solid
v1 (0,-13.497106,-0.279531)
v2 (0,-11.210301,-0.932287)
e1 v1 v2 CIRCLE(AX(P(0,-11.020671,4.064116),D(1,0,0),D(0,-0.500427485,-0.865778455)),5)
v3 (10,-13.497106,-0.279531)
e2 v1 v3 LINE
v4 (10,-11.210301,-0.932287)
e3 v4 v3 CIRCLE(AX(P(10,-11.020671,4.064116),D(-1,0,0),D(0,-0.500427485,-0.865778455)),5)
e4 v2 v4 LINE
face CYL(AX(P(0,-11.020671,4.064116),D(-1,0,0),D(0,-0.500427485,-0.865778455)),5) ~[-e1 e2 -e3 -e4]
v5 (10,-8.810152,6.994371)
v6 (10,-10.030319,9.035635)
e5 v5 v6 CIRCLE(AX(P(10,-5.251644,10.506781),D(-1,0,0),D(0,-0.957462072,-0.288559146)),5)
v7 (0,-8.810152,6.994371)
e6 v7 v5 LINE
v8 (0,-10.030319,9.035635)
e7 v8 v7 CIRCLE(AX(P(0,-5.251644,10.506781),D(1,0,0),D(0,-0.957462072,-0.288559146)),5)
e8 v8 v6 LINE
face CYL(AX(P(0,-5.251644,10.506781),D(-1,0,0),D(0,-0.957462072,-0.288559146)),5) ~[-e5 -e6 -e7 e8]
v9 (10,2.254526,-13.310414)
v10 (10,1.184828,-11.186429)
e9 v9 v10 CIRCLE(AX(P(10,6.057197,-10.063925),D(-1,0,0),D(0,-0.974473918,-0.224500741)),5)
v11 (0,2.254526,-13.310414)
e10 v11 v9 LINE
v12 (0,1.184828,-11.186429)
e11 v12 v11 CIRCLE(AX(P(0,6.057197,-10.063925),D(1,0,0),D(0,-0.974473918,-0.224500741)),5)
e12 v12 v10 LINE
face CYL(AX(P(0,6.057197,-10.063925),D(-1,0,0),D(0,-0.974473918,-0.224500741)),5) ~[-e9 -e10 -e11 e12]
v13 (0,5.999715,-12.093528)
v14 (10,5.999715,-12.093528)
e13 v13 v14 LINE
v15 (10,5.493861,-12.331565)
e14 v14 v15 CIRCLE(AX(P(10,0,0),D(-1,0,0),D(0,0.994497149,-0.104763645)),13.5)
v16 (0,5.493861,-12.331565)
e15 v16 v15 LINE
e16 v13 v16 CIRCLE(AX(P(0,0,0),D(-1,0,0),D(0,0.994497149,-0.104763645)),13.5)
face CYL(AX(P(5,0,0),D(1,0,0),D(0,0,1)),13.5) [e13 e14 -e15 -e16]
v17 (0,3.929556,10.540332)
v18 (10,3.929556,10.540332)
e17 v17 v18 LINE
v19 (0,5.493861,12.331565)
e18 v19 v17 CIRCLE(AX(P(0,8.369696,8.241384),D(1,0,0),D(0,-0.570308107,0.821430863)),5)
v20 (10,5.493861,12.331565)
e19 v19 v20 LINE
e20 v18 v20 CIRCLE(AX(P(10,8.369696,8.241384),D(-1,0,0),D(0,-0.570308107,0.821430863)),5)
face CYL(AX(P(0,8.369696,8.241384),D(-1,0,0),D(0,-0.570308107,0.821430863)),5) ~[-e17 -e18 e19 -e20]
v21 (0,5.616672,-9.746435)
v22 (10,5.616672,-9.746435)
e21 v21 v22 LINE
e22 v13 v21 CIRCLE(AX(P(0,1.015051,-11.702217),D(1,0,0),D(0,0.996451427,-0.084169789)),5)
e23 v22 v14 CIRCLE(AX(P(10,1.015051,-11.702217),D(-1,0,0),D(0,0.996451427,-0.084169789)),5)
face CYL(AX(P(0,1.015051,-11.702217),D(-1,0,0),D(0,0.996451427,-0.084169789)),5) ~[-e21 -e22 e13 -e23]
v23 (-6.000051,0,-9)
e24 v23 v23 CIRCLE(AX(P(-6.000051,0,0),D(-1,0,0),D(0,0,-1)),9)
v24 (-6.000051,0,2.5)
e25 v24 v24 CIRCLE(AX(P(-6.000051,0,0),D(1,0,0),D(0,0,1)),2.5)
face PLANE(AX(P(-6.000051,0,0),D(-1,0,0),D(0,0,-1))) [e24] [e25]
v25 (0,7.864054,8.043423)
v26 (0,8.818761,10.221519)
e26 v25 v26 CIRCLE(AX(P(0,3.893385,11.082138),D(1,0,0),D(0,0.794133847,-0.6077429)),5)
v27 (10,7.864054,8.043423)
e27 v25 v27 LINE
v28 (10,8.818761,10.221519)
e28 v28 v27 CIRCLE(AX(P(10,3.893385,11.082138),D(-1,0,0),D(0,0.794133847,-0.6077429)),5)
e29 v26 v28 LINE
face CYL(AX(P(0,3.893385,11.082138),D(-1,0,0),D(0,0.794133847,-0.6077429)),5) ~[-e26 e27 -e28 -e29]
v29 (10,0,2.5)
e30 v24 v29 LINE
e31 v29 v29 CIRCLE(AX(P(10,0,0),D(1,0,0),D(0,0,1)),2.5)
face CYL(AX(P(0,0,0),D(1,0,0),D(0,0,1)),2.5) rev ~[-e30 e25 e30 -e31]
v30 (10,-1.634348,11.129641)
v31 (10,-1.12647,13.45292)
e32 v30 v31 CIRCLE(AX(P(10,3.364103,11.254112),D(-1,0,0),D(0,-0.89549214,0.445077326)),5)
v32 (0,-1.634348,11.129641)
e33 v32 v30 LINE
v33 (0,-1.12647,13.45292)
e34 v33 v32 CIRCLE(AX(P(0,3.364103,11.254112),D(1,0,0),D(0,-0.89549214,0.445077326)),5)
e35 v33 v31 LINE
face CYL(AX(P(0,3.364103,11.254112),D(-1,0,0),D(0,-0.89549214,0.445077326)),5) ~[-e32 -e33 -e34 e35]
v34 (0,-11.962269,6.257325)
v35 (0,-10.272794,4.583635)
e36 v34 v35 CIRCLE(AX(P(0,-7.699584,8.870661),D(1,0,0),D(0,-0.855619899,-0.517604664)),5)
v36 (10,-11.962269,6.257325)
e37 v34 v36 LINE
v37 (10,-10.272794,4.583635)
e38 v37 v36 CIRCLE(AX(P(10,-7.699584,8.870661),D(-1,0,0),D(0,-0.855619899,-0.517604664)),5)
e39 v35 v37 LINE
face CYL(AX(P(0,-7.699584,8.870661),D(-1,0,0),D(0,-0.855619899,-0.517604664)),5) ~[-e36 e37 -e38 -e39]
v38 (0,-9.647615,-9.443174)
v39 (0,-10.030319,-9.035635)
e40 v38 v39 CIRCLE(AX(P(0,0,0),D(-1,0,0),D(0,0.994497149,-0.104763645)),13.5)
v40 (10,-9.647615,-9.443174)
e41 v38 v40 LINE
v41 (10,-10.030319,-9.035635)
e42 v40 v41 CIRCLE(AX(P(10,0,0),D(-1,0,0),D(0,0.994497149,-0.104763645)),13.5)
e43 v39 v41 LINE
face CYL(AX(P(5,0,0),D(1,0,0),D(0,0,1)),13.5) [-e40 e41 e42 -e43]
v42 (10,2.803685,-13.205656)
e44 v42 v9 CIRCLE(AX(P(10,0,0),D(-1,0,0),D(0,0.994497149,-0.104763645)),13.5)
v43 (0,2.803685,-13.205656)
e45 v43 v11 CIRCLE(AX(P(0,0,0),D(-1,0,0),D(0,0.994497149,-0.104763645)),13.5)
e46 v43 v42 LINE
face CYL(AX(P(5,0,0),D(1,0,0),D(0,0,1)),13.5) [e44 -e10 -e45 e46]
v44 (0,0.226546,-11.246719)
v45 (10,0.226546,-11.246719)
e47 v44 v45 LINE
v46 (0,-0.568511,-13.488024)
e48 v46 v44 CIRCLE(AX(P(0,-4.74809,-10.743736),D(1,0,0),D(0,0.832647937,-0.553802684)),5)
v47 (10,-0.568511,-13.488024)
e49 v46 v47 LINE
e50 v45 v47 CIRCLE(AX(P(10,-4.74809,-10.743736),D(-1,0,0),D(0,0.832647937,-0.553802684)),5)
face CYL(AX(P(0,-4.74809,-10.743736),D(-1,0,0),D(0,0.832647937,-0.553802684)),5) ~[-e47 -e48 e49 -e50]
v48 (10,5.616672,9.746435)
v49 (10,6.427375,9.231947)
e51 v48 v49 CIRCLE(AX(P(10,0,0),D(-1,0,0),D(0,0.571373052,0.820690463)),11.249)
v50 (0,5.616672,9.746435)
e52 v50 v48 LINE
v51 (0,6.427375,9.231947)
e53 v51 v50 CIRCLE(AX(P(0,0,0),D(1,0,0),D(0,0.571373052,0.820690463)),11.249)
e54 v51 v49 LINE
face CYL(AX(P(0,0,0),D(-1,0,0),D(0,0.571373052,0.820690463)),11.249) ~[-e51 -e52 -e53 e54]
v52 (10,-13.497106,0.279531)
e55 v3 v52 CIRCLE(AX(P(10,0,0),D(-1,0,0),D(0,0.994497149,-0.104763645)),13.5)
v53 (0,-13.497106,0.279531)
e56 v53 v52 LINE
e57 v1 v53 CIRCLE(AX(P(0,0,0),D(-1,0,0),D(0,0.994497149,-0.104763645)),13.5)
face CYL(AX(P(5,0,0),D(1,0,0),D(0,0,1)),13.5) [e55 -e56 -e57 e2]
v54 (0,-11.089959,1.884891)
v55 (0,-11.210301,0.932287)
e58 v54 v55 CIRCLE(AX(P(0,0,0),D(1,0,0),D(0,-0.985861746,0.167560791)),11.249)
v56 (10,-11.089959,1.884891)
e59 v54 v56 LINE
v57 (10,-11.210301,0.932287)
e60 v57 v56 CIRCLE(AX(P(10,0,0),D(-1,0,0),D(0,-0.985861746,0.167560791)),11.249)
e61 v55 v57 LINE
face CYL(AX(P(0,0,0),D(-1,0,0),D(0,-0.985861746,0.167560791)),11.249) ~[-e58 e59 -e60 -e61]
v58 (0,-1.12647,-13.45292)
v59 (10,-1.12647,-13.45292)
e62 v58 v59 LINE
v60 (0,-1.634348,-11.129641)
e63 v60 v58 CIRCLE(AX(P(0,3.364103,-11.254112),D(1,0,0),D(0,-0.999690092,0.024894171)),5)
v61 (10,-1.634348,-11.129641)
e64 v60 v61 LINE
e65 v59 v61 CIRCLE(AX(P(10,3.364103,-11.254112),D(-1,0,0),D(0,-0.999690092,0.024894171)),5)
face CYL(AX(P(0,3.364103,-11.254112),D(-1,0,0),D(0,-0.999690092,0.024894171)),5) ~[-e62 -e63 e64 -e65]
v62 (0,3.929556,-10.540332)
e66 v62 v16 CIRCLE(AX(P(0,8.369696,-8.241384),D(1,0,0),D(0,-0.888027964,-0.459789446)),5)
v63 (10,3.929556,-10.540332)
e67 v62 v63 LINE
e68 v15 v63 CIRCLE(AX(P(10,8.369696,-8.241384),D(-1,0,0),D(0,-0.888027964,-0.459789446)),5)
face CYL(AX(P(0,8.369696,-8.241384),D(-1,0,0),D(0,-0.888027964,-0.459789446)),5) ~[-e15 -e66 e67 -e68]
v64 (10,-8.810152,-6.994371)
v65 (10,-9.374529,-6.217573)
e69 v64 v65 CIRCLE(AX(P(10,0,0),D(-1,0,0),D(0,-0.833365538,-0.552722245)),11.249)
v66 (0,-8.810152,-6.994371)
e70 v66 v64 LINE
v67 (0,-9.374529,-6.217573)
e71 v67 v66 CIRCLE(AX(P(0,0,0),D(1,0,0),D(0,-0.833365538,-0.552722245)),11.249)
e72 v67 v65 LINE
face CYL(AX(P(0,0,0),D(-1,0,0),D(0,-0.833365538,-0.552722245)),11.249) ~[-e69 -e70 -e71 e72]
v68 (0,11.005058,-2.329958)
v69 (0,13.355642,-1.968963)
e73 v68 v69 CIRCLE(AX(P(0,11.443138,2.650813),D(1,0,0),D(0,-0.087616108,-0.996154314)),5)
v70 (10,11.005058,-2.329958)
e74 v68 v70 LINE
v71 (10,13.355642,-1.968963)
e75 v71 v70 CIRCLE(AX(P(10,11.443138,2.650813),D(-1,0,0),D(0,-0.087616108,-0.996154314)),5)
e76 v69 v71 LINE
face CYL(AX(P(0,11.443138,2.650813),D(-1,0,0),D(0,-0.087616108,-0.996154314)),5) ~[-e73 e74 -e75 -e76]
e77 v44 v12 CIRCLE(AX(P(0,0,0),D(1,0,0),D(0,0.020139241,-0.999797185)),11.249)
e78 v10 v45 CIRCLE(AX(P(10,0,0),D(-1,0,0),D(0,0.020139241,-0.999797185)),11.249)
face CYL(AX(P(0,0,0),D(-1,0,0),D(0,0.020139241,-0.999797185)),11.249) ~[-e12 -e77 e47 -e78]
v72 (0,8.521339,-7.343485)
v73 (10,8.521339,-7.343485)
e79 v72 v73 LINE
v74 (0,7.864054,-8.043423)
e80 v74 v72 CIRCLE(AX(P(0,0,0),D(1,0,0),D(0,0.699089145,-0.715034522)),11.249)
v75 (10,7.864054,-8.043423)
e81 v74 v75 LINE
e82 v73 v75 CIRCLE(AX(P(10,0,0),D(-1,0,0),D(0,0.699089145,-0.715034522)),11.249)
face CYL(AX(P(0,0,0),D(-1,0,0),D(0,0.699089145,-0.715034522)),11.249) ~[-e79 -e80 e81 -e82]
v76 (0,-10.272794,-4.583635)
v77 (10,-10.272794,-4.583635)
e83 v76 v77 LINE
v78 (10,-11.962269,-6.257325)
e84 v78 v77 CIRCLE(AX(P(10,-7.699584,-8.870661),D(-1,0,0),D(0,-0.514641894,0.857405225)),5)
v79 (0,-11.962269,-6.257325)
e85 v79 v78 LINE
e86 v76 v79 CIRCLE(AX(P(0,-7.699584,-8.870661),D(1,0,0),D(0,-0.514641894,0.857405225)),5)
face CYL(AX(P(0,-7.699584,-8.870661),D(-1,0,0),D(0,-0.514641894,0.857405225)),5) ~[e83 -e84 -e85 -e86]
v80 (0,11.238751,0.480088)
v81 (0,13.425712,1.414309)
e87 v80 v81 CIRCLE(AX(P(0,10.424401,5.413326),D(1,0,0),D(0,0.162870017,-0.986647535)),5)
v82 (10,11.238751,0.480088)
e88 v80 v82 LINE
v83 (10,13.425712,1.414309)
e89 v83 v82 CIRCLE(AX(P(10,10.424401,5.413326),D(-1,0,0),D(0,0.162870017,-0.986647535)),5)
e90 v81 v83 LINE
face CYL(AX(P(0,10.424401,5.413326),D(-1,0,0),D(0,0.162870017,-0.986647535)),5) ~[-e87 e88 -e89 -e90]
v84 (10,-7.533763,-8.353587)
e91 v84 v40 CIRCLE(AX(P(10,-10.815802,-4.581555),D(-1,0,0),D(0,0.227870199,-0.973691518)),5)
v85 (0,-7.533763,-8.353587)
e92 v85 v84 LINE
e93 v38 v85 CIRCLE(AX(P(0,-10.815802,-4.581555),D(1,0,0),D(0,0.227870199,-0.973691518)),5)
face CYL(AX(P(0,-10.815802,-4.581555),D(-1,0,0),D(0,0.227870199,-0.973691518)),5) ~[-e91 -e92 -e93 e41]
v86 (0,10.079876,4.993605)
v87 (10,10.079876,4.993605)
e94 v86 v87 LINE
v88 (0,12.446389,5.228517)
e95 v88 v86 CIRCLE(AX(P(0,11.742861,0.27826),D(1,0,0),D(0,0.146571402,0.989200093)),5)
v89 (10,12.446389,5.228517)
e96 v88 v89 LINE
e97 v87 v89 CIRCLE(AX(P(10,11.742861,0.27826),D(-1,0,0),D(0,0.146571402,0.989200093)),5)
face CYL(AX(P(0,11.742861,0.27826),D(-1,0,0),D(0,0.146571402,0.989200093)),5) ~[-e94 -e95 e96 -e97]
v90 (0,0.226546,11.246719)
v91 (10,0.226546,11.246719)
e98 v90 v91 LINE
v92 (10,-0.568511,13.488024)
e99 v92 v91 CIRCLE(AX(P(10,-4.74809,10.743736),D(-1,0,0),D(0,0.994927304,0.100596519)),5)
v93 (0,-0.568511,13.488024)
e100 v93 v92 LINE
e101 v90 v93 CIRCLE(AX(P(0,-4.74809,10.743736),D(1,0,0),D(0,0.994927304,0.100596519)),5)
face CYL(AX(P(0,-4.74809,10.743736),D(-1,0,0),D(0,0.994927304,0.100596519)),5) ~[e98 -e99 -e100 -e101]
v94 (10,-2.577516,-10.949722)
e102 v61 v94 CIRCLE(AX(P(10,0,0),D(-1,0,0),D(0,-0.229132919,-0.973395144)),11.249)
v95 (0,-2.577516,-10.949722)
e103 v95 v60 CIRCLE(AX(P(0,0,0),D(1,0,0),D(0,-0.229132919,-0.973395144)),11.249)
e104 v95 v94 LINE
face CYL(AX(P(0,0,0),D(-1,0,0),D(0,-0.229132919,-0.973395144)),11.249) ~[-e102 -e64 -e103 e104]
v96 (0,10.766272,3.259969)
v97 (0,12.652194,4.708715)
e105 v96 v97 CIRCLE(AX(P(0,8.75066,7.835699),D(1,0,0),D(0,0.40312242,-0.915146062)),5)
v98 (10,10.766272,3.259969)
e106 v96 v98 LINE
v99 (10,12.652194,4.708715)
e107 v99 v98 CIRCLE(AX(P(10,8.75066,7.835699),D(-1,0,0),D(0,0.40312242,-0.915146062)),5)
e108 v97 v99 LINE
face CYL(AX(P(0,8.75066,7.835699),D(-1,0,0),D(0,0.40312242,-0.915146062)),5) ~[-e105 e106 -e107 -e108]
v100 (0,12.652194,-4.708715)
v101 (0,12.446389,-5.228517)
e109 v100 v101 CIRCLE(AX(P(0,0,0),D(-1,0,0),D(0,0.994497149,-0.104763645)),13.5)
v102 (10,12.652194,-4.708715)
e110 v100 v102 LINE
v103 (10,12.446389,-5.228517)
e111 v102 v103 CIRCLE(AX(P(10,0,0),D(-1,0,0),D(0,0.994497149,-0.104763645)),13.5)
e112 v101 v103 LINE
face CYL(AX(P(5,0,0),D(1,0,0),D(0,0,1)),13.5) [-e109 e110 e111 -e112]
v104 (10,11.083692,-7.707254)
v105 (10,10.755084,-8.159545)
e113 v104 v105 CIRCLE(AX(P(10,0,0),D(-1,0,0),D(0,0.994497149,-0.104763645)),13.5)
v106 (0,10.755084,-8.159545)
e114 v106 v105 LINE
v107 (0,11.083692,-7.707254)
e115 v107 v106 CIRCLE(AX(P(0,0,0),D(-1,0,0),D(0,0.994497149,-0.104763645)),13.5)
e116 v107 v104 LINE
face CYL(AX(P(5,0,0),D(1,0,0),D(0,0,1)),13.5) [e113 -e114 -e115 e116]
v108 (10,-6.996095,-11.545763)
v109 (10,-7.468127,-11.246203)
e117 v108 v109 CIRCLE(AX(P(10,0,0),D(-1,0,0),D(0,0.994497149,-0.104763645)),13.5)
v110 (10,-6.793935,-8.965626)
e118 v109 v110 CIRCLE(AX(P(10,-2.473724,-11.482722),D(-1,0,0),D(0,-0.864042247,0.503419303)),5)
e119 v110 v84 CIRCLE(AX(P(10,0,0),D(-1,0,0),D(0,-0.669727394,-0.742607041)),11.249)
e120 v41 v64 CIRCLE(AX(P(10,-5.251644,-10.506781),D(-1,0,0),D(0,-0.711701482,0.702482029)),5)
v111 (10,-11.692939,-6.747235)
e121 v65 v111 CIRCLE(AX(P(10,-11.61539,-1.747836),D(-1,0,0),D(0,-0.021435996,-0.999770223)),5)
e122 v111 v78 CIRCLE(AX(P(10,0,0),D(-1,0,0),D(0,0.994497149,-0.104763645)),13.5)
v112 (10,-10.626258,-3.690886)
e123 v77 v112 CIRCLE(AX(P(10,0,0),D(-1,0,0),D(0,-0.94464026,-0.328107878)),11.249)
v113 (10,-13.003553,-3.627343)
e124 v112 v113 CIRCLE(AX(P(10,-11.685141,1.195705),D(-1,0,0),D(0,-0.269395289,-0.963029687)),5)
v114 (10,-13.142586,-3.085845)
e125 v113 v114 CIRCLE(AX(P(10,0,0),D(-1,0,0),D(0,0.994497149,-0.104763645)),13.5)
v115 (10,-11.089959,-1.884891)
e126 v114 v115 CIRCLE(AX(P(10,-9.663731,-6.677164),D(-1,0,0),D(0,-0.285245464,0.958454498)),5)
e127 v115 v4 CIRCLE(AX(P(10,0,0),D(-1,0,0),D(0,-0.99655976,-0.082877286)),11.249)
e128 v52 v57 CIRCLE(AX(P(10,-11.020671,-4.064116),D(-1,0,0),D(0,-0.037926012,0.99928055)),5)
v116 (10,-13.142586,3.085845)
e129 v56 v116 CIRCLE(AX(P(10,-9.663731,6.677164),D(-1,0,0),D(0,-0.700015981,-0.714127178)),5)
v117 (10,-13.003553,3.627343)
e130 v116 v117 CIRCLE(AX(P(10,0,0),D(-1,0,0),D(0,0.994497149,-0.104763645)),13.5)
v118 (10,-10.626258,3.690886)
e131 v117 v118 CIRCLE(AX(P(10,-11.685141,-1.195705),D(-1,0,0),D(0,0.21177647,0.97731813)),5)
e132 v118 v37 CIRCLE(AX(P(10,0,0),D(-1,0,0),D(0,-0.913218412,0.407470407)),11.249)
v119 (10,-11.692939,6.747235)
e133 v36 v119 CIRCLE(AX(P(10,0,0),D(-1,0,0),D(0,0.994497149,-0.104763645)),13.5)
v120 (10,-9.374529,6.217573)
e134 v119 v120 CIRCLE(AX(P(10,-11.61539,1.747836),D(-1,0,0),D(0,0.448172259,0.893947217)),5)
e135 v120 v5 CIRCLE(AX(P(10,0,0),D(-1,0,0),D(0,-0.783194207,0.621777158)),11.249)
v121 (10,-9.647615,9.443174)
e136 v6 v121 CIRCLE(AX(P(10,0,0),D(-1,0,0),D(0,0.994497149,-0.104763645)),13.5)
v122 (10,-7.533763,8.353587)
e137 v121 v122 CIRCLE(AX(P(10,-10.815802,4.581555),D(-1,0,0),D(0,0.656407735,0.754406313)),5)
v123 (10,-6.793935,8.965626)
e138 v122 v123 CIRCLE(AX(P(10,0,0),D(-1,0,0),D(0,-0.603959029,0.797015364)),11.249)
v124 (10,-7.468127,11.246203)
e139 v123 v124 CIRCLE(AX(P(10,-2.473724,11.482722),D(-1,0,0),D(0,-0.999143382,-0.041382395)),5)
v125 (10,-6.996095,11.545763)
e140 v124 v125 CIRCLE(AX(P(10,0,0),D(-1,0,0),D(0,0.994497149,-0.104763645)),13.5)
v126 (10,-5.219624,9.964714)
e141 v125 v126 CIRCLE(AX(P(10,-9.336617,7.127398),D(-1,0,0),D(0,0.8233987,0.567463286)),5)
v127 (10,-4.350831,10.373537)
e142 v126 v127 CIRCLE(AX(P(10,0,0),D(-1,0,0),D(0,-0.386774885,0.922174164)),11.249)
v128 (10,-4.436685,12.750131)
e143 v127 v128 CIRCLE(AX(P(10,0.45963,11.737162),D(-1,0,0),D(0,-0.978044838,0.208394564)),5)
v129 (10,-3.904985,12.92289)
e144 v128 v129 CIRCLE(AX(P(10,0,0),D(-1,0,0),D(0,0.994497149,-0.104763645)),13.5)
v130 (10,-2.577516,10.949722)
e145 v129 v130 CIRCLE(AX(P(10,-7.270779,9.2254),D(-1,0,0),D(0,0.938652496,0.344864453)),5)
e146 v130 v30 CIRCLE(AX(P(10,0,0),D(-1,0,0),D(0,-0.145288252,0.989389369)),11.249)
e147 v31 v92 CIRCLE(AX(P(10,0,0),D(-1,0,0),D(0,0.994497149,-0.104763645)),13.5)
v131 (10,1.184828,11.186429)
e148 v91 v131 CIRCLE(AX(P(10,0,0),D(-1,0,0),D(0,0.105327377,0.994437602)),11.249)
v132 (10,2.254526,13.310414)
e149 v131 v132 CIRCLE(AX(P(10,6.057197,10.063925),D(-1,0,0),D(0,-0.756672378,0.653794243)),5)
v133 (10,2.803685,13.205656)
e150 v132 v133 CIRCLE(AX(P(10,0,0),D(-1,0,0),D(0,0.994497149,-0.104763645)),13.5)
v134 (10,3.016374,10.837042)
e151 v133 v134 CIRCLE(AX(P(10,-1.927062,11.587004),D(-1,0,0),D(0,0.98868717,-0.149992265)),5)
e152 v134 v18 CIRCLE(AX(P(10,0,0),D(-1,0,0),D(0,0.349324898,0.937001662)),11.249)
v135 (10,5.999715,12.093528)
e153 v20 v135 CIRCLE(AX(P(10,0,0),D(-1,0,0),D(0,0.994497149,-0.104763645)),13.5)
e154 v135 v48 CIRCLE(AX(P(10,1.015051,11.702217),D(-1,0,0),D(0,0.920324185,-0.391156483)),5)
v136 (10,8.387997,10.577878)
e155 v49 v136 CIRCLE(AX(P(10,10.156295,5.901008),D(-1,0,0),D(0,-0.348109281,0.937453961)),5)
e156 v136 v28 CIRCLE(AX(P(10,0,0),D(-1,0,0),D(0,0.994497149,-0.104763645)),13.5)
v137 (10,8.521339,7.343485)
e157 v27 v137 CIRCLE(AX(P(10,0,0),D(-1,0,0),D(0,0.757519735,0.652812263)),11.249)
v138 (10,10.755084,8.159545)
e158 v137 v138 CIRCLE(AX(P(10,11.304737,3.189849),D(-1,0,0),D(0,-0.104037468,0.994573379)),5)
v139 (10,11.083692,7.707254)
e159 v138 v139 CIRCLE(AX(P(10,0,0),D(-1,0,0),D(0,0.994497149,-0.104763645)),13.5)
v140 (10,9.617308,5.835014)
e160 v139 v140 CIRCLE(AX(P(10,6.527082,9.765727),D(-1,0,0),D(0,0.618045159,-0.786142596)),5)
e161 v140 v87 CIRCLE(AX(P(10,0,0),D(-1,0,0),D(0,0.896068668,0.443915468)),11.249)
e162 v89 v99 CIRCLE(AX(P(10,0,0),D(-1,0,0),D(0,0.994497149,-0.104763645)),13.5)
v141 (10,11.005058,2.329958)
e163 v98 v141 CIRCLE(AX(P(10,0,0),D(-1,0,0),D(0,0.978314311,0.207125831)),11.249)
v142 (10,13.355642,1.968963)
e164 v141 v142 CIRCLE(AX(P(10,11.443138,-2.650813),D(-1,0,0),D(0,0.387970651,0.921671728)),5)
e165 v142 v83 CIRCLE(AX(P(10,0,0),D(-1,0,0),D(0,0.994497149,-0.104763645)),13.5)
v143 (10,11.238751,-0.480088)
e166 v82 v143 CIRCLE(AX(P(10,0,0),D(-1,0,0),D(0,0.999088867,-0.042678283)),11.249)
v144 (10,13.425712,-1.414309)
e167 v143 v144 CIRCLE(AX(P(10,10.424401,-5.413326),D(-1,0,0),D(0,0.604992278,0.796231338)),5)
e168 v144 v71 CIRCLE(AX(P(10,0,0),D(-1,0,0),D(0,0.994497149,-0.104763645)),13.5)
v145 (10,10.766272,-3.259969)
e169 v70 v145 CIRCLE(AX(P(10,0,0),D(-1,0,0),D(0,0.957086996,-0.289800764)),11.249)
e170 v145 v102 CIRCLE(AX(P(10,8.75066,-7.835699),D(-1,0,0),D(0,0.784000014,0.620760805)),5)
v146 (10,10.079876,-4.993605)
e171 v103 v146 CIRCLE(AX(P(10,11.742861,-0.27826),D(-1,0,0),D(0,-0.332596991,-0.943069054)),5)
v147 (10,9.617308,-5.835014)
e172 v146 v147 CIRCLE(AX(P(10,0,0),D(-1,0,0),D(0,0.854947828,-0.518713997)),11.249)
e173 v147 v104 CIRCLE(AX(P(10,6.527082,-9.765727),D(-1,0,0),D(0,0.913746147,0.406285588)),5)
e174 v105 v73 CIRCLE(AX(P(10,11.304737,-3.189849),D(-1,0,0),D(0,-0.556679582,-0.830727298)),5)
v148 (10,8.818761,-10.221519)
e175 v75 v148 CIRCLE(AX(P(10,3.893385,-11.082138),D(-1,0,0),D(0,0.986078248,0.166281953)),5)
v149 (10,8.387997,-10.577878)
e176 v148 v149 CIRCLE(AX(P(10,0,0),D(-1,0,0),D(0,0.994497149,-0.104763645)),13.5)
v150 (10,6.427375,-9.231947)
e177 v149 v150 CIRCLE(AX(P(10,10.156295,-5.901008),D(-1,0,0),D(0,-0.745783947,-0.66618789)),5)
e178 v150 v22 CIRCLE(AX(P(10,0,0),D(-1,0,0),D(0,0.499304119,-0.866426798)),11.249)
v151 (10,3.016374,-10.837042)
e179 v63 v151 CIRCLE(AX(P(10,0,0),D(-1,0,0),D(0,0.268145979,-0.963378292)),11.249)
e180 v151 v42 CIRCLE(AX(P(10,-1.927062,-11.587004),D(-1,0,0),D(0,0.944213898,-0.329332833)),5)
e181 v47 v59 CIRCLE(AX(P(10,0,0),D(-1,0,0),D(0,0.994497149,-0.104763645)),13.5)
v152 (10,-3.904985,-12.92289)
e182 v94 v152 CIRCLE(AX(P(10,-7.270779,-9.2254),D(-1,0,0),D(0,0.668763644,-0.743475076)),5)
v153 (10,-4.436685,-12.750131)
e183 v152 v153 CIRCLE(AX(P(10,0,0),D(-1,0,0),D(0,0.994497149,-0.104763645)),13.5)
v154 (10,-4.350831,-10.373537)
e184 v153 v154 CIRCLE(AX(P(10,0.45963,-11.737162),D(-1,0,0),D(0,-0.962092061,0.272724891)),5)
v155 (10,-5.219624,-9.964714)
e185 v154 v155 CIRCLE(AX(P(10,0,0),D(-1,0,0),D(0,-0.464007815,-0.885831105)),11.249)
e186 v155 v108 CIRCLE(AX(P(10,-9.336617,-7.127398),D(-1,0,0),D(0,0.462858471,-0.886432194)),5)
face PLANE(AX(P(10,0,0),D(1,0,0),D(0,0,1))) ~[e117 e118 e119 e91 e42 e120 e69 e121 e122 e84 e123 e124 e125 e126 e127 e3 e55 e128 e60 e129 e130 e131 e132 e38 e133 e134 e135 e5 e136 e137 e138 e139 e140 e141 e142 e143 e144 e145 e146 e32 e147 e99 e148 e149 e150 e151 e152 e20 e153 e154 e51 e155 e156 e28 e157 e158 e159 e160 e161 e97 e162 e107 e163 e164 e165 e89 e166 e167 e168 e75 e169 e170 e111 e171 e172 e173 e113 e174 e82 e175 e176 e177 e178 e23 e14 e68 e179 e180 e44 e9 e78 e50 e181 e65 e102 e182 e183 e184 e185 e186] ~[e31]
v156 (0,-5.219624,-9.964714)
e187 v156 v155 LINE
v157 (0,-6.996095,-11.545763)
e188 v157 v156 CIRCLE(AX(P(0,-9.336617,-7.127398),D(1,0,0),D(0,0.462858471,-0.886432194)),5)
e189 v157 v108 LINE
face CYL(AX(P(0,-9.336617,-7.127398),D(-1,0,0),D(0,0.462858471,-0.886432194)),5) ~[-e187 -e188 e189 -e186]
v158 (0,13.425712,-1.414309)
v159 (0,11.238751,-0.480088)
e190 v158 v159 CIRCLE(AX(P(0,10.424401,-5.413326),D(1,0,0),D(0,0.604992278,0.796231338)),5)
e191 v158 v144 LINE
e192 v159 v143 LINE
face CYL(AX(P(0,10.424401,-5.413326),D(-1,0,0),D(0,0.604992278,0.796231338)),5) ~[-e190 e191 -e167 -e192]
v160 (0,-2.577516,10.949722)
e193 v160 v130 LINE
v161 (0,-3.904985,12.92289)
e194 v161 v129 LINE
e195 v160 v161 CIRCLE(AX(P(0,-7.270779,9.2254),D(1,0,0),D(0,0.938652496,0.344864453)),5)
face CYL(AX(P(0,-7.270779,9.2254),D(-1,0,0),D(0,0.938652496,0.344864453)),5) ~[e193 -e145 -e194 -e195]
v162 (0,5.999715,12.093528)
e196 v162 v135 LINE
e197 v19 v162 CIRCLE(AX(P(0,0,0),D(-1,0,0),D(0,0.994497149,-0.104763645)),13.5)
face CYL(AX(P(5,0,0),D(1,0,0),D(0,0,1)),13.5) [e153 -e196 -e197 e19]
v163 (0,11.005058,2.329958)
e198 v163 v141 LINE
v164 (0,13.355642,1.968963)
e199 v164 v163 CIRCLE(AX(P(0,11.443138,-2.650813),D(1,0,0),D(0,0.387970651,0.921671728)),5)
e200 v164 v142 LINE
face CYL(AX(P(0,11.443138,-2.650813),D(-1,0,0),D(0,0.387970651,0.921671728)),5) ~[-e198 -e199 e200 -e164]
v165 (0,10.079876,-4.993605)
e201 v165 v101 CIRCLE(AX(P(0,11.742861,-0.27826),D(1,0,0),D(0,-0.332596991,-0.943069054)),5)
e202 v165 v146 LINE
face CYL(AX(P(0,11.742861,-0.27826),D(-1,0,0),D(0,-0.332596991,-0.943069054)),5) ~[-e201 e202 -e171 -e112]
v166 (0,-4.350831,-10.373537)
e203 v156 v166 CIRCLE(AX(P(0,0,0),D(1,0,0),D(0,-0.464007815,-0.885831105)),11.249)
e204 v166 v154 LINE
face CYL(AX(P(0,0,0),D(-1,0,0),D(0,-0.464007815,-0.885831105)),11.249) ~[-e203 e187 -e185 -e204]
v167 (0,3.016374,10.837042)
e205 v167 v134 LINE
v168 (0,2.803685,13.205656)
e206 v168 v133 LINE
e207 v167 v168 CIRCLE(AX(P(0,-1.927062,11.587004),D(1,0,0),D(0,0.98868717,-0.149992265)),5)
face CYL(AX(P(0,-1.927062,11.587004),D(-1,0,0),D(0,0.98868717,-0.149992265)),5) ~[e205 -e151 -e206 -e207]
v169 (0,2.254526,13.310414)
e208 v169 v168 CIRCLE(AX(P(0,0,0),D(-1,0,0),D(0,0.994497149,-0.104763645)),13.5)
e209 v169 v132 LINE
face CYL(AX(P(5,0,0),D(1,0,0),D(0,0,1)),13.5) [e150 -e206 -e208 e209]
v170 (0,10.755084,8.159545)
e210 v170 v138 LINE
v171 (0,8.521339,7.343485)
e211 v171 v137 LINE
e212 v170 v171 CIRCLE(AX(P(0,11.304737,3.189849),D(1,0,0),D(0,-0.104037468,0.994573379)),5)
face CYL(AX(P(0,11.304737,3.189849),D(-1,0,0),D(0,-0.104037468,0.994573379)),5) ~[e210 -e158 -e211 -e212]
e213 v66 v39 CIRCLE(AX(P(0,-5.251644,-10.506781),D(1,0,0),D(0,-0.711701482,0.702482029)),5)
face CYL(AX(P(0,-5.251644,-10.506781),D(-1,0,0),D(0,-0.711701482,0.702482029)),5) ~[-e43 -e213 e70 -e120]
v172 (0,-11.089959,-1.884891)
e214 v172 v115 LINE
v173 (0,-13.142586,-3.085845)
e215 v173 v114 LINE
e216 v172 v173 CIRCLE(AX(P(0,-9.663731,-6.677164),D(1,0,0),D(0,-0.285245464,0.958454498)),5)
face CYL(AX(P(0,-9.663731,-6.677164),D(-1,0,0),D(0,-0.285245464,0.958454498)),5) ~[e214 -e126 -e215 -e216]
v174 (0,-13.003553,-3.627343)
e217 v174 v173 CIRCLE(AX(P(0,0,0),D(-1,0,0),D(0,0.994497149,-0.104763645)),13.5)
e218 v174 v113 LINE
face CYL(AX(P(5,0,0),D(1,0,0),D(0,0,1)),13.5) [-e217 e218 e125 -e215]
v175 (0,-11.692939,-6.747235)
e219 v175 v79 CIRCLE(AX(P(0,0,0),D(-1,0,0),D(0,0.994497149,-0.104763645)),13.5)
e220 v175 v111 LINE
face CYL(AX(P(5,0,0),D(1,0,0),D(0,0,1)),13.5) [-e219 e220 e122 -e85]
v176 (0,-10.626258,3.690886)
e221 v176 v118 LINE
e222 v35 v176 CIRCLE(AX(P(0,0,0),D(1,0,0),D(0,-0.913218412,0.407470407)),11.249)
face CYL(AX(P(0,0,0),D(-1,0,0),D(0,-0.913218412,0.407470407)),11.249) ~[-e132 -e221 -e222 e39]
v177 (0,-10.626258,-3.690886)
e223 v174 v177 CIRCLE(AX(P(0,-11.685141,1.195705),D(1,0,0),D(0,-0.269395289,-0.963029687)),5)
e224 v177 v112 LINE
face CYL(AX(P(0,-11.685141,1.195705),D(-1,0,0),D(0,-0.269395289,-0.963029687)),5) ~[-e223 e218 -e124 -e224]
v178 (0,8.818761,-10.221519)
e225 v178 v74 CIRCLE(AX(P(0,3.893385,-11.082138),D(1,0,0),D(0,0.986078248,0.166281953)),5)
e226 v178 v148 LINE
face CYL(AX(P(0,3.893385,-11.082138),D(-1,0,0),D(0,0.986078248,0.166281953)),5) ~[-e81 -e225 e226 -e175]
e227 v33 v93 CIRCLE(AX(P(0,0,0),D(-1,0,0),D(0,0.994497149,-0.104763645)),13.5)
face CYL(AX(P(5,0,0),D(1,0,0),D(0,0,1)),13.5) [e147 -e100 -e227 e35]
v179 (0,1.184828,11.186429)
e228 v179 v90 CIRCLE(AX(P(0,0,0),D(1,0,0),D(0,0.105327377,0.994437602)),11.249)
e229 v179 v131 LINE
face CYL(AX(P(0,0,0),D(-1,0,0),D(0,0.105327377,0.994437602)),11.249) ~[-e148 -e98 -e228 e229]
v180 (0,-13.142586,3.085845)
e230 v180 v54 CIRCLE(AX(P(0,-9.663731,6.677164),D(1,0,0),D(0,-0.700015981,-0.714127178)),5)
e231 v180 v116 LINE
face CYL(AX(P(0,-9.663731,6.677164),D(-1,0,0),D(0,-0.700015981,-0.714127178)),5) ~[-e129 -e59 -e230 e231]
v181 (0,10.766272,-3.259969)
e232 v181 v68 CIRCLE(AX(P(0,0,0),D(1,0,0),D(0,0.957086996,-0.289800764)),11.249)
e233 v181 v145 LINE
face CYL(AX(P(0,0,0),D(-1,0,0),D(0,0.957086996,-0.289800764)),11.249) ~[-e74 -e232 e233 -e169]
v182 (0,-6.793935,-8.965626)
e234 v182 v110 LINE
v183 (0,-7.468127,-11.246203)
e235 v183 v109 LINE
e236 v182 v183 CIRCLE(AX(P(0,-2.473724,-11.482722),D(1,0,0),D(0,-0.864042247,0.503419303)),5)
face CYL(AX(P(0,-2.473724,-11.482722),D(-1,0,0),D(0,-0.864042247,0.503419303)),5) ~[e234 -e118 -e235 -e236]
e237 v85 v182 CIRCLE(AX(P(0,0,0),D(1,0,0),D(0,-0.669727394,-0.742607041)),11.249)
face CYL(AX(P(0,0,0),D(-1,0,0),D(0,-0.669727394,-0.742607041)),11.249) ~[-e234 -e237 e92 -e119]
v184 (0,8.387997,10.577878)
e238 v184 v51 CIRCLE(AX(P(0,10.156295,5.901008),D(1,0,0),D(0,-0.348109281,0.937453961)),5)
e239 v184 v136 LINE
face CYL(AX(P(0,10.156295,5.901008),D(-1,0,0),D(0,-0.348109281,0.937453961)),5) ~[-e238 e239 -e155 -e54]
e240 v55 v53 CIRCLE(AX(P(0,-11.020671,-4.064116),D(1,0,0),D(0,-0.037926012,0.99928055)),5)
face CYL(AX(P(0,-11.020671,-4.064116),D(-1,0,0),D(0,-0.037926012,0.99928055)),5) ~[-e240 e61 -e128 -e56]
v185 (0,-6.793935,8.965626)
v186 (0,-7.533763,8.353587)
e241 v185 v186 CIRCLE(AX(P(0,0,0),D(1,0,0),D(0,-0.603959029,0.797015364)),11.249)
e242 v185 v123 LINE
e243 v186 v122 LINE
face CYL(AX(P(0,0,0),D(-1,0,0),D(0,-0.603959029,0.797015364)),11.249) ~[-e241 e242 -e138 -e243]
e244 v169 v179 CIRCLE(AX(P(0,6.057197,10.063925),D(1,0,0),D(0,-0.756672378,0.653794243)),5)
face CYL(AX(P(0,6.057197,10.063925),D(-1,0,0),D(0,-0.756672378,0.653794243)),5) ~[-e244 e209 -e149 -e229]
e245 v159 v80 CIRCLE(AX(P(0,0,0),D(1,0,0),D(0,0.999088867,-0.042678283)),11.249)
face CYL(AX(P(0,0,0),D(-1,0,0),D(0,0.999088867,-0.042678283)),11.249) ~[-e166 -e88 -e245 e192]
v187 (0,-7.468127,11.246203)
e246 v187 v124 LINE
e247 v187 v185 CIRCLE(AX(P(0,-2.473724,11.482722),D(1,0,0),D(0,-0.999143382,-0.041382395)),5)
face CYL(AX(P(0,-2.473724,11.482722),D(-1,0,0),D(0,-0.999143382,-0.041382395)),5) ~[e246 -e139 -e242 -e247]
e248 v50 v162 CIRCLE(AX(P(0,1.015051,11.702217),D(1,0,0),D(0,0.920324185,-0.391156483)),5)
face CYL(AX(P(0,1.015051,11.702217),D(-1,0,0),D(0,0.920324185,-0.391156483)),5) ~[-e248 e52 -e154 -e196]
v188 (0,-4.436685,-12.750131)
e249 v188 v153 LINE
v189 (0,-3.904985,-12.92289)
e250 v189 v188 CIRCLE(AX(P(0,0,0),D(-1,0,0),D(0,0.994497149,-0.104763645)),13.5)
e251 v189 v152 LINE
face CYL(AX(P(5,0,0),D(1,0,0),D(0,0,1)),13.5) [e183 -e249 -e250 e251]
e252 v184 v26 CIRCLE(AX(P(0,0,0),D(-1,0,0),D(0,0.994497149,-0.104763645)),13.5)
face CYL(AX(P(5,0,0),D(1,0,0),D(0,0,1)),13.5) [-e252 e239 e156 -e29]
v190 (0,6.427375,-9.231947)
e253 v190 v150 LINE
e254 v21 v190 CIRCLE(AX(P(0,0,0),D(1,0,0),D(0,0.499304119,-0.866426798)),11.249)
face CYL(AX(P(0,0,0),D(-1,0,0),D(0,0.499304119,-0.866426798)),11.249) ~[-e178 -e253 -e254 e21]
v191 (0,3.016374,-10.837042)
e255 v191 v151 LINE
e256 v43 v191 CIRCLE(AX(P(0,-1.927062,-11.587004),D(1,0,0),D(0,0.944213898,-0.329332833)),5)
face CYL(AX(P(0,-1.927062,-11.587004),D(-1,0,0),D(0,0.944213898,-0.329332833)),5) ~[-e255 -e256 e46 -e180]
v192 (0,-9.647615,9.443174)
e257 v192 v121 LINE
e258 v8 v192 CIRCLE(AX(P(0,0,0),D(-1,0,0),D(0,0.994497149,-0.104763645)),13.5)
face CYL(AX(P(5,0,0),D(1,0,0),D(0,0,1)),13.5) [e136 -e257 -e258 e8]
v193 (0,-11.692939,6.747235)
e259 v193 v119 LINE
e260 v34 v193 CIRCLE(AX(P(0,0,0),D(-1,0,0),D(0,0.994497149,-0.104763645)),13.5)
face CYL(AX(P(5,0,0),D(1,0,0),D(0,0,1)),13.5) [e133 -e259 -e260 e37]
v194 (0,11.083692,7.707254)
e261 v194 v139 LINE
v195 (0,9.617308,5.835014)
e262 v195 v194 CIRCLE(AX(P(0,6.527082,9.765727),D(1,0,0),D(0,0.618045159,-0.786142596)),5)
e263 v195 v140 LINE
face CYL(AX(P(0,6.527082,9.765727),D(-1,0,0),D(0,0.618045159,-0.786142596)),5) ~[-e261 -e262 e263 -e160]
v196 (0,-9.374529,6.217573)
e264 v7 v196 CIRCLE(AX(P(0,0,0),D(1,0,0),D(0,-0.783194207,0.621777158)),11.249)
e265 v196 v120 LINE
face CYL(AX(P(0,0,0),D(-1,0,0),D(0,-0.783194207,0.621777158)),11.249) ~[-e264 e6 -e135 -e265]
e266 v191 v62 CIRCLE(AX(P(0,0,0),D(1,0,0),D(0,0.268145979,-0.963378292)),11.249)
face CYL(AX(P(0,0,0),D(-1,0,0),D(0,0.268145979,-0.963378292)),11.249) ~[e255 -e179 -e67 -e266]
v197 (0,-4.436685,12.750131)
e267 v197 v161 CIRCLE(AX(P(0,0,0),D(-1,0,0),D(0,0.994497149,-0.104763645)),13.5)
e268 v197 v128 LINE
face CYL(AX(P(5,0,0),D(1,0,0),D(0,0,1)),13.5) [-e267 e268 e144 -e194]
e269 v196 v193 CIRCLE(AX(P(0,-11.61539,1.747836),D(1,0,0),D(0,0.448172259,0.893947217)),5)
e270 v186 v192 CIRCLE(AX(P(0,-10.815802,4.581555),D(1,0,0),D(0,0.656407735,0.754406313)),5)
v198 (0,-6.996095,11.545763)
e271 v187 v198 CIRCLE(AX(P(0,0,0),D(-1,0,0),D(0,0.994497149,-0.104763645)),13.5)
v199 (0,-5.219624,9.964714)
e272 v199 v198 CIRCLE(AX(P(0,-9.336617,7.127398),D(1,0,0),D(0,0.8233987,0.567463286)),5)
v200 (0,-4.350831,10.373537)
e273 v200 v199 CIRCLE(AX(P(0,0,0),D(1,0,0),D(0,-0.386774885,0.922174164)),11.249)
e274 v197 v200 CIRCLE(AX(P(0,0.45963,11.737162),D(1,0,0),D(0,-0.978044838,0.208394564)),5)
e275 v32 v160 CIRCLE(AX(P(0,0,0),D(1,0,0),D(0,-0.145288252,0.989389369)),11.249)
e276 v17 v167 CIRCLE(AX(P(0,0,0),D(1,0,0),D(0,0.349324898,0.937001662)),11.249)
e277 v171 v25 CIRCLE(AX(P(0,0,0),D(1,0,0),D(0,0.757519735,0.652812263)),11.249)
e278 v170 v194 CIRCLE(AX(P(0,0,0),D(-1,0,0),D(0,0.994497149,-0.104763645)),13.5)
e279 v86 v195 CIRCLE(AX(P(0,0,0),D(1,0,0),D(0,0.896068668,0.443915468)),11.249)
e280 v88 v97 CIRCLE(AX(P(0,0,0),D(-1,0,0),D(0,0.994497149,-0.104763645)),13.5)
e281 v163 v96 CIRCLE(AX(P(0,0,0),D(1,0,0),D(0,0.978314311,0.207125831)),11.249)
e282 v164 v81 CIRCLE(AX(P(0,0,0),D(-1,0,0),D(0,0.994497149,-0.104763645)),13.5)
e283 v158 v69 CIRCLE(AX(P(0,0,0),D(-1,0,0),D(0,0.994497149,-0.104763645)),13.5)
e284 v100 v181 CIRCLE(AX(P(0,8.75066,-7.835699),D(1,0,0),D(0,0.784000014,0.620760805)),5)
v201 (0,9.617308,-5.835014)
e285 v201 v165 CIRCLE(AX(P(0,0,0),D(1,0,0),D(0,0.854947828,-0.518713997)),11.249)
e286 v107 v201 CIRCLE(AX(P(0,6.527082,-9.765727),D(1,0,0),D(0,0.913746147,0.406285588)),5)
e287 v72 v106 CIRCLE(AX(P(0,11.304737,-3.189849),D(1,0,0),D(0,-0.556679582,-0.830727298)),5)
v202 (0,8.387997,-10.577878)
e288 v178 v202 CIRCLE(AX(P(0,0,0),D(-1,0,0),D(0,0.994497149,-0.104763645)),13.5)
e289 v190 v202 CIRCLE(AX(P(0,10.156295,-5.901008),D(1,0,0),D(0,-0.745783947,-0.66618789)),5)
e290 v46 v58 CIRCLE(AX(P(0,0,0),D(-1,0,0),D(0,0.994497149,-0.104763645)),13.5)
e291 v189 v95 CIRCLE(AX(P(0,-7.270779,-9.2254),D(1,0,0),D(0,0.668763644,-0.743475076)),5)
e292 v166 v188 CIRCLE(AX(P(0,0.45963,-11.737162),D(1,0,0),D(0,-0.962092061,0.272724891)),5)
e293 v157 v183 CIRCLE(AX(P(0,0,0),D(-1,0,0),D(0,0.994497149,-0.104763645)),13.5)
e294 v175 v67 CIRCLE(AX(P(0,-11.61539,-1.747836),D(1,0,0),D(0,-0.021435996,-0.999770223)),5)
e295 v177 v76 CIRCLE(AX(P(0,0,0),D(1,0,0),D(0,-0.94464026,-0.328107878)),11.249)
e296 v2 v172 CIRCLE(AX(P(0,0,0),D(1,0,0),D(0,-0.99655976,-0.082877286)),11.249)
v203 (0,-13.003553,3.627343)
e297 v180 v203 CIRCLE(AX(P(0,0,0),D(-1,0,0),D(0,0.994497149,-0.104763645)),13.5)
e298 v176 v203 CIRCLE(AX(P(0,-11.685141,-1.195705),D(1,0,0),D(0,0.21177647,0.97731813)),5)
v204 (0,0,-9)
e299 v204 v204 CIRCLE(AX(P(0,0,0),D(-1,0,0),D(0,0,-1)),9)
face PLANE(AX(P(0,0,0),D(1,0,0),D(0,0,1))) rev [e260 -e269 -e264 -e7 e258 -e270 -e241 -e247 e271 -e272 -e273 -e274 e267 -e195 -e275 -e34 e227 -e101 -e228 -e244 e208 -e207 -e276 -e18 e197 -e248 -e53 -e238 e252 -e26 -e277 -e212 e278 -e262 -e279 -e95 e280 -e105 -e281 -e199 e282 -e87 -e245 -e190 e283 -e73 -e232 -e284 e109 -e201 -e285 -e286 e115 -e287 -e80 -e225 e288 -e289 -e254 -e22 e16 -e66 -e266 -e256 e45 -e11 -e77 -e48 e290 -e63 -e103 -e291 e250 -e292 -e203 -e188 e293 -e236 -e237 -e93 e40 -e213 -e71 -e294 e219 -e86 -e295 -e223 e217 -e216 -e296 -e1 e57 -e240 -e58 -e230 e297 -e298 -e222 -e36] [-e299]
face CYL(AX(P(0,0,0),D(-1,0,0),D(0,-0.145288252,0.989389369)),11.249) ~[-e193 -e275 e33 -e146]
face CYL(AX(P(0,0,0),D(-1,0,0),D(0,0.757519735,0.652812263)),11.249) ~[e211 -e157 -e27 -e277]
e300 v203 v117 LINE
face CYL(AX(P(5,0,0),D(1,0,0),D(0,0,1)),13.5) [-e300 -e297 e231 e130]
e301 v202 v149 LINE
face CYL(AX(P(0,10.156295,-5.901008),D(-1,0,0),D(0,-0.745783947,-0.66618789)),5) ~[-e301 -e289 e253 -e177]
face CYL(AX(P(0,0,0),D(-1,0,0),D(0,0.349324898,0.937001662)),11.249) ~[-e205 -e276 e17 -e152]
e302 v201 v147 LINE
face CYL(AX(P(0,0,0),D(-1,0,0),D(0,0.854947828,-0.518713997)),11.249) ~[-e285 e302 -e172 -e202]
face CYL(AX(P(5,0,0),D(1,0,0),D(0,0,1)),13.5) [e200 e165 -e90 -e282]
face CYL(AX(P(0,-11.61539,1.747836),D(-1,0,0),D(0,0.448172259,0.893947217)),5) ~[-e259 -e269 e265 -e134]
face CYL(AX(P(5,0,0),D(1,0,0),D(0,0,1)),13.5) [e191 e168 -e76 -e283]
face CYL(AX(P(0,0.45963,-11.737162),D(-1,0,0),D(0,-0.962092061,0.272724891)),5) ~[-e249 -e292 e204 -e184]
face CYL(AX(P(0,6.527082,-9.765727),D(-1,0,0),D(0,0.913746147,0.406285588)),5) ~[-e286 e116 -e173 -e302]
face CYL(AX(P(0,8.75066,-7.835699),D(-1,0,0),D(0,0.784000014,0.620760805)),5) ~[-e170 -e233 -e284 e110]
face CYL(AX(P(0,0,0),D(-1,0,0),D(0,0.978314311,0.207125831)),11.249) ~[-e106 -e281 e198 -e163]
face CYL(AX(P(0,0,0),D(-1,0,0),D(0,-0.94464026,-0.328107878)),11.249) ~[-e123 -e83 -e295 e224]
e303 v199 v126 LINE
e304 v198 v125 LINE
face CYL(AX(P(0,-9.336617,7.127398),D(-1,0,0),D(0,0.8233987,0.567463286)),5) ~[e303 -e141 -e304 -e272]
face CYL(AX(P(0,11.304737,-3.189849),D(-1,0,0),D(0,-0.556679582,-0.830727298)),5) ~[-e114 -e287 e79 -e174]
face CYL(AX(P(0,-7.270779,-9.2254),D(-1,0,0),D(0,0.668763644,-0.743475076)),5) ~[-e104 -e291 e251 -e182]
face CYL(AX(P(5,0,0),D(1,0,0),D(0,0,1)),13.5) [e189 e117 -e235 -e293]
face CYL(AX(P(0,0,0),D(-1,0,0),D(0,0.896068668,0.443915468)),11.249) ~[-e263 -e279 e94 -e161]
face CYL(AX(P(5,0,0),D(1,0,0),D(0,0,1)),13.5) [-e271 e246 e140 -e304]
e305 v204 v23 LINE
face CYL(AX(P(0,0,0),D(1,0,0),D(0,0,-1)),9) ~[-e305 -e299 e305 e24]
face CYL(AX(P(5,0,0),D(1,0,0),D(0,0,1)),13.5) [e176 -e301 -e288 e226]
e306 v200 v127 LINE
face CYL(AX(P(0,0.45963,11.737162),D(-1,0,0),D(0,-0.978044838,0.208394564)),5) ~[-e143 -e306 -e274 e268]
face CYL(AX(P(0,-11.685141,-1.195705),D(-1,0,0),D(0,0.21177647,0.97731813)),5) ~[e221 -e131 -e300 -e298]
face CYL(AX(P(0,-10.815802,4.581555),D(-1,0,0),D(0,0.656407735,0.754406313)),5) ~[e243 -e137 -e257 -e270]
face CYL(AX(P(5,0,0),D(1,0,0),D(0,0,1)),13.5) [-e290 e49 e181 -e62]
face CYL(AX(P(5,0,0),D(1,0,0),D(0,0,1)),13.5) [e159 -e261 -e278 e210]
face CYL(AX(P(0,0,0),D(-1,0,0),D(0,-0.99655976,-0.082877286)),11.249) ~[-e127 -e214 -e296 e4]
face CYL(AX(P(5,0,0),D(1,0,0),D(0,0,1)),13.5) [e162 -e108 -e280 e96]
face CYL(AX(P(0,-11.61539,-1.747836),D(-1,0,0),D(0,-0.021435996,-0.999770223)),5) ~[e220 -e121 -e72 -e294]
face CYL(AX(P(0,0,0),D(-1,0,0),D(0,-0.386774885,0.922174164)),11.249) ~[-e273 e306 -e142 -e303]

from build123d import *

# Parameters (mm, degrees)
BASPROSKE_W      = 10
BASPROSKE_H      = 13.5
TOOTHCUT_DEPTH   = 22.552262062
TEETHCUTS_COUNT  = 25
TEETHCUTS_ANGLE  = 345.6
HUBNEAONESKE_R   = 9
HUBNEARONE_DEPTH = 6.0000508
BORSKE_R         = 2.5
BORE_DEPTH       = 16.0000508


with BuildPart() as part:
    # BasProSke → Base-Revolve (revolve)
    with BuildSketch(Plane(origin=(0, 0, 0), x_dir=(1, 0, 0), z_dir=(0, 1, 0)), mode=Mode.PRIVATE) as base_revolve_sk:
        with Locations((5, 6.75)):
            Rectangle(BASPROSKE_W, BASPROSKE_H)
    revolve(base_revolve_sk.sketch.rotate(Axis((-10, 0, 0), (1, 0, 0)), 180), axis=Axis((-10, 0, 0), (1, 0, 0)))

    # TooCutSke → ToothCut (cut, through all)
    with BuildSketch(Plane(origin=(0, 0, 0), x_dir=(0, 0, -1), z_dir=(1, 0, 0))):
        with BuildLine():
            ThreePointArc((0.480087995, 11.238750665), (0, 11.249), (-0.480087995, 11.238750665))
            ThreePointArc((-0.480087995, 11.238750665), (-0.821124963, 12.40220054), (-1.432168974, 13.449361962))
            ThreePointArc((-1.432168974, 13.449361962), (0, 13.5254), (1.432168974, 13.449361962))
            ThreePointArc((1.432168974, 13.449361962), (0.821124963, 12.40220054), (0.480087995, 11.238750665))
        make_face()
    toothcut = extrude(amount=TOOTHCUT_DEPTH, mode=Mode.SUBTRACT)

    # TeethCuts: ToothCut ×25 about axis
    teethcuts_axis = Axis((-10, 0, 0), (1, 0, 0))
    for i in range(1, TEETHCUTS_COUNT):
        add(toothcut.rotate(teethcuts_axis, i * TEETHCUTS_ANGLE / (TEETHCUTS_COUNT - 1)), mode=Mode.SUBTRACT)

    # HubNeaOneSke → HubNearOne (add)
    with BuildSketch(Plane.ZY):
        with Locations(Location((0, 0, 0), (0, 0, 180))):
            Circle(HUBNEAONESKE_R)
    extrude(amount=HUBNEARONE_DEPTH)

    # BorSke → Bore (cut, symmetric)
    with BuildSketch(Plane(origin=(0, 0, 0), x_dir=(0, 0, -1), z_dir=(1, 0, 0))):
        with Locations(Location((0, 0, 0), (0, 0, 180))):
            Circle(BORSKE_R)
    extrude(amount=BORE_DEPTH, both=True, mode=Mode.SUBTRACT)


solid = part.part
